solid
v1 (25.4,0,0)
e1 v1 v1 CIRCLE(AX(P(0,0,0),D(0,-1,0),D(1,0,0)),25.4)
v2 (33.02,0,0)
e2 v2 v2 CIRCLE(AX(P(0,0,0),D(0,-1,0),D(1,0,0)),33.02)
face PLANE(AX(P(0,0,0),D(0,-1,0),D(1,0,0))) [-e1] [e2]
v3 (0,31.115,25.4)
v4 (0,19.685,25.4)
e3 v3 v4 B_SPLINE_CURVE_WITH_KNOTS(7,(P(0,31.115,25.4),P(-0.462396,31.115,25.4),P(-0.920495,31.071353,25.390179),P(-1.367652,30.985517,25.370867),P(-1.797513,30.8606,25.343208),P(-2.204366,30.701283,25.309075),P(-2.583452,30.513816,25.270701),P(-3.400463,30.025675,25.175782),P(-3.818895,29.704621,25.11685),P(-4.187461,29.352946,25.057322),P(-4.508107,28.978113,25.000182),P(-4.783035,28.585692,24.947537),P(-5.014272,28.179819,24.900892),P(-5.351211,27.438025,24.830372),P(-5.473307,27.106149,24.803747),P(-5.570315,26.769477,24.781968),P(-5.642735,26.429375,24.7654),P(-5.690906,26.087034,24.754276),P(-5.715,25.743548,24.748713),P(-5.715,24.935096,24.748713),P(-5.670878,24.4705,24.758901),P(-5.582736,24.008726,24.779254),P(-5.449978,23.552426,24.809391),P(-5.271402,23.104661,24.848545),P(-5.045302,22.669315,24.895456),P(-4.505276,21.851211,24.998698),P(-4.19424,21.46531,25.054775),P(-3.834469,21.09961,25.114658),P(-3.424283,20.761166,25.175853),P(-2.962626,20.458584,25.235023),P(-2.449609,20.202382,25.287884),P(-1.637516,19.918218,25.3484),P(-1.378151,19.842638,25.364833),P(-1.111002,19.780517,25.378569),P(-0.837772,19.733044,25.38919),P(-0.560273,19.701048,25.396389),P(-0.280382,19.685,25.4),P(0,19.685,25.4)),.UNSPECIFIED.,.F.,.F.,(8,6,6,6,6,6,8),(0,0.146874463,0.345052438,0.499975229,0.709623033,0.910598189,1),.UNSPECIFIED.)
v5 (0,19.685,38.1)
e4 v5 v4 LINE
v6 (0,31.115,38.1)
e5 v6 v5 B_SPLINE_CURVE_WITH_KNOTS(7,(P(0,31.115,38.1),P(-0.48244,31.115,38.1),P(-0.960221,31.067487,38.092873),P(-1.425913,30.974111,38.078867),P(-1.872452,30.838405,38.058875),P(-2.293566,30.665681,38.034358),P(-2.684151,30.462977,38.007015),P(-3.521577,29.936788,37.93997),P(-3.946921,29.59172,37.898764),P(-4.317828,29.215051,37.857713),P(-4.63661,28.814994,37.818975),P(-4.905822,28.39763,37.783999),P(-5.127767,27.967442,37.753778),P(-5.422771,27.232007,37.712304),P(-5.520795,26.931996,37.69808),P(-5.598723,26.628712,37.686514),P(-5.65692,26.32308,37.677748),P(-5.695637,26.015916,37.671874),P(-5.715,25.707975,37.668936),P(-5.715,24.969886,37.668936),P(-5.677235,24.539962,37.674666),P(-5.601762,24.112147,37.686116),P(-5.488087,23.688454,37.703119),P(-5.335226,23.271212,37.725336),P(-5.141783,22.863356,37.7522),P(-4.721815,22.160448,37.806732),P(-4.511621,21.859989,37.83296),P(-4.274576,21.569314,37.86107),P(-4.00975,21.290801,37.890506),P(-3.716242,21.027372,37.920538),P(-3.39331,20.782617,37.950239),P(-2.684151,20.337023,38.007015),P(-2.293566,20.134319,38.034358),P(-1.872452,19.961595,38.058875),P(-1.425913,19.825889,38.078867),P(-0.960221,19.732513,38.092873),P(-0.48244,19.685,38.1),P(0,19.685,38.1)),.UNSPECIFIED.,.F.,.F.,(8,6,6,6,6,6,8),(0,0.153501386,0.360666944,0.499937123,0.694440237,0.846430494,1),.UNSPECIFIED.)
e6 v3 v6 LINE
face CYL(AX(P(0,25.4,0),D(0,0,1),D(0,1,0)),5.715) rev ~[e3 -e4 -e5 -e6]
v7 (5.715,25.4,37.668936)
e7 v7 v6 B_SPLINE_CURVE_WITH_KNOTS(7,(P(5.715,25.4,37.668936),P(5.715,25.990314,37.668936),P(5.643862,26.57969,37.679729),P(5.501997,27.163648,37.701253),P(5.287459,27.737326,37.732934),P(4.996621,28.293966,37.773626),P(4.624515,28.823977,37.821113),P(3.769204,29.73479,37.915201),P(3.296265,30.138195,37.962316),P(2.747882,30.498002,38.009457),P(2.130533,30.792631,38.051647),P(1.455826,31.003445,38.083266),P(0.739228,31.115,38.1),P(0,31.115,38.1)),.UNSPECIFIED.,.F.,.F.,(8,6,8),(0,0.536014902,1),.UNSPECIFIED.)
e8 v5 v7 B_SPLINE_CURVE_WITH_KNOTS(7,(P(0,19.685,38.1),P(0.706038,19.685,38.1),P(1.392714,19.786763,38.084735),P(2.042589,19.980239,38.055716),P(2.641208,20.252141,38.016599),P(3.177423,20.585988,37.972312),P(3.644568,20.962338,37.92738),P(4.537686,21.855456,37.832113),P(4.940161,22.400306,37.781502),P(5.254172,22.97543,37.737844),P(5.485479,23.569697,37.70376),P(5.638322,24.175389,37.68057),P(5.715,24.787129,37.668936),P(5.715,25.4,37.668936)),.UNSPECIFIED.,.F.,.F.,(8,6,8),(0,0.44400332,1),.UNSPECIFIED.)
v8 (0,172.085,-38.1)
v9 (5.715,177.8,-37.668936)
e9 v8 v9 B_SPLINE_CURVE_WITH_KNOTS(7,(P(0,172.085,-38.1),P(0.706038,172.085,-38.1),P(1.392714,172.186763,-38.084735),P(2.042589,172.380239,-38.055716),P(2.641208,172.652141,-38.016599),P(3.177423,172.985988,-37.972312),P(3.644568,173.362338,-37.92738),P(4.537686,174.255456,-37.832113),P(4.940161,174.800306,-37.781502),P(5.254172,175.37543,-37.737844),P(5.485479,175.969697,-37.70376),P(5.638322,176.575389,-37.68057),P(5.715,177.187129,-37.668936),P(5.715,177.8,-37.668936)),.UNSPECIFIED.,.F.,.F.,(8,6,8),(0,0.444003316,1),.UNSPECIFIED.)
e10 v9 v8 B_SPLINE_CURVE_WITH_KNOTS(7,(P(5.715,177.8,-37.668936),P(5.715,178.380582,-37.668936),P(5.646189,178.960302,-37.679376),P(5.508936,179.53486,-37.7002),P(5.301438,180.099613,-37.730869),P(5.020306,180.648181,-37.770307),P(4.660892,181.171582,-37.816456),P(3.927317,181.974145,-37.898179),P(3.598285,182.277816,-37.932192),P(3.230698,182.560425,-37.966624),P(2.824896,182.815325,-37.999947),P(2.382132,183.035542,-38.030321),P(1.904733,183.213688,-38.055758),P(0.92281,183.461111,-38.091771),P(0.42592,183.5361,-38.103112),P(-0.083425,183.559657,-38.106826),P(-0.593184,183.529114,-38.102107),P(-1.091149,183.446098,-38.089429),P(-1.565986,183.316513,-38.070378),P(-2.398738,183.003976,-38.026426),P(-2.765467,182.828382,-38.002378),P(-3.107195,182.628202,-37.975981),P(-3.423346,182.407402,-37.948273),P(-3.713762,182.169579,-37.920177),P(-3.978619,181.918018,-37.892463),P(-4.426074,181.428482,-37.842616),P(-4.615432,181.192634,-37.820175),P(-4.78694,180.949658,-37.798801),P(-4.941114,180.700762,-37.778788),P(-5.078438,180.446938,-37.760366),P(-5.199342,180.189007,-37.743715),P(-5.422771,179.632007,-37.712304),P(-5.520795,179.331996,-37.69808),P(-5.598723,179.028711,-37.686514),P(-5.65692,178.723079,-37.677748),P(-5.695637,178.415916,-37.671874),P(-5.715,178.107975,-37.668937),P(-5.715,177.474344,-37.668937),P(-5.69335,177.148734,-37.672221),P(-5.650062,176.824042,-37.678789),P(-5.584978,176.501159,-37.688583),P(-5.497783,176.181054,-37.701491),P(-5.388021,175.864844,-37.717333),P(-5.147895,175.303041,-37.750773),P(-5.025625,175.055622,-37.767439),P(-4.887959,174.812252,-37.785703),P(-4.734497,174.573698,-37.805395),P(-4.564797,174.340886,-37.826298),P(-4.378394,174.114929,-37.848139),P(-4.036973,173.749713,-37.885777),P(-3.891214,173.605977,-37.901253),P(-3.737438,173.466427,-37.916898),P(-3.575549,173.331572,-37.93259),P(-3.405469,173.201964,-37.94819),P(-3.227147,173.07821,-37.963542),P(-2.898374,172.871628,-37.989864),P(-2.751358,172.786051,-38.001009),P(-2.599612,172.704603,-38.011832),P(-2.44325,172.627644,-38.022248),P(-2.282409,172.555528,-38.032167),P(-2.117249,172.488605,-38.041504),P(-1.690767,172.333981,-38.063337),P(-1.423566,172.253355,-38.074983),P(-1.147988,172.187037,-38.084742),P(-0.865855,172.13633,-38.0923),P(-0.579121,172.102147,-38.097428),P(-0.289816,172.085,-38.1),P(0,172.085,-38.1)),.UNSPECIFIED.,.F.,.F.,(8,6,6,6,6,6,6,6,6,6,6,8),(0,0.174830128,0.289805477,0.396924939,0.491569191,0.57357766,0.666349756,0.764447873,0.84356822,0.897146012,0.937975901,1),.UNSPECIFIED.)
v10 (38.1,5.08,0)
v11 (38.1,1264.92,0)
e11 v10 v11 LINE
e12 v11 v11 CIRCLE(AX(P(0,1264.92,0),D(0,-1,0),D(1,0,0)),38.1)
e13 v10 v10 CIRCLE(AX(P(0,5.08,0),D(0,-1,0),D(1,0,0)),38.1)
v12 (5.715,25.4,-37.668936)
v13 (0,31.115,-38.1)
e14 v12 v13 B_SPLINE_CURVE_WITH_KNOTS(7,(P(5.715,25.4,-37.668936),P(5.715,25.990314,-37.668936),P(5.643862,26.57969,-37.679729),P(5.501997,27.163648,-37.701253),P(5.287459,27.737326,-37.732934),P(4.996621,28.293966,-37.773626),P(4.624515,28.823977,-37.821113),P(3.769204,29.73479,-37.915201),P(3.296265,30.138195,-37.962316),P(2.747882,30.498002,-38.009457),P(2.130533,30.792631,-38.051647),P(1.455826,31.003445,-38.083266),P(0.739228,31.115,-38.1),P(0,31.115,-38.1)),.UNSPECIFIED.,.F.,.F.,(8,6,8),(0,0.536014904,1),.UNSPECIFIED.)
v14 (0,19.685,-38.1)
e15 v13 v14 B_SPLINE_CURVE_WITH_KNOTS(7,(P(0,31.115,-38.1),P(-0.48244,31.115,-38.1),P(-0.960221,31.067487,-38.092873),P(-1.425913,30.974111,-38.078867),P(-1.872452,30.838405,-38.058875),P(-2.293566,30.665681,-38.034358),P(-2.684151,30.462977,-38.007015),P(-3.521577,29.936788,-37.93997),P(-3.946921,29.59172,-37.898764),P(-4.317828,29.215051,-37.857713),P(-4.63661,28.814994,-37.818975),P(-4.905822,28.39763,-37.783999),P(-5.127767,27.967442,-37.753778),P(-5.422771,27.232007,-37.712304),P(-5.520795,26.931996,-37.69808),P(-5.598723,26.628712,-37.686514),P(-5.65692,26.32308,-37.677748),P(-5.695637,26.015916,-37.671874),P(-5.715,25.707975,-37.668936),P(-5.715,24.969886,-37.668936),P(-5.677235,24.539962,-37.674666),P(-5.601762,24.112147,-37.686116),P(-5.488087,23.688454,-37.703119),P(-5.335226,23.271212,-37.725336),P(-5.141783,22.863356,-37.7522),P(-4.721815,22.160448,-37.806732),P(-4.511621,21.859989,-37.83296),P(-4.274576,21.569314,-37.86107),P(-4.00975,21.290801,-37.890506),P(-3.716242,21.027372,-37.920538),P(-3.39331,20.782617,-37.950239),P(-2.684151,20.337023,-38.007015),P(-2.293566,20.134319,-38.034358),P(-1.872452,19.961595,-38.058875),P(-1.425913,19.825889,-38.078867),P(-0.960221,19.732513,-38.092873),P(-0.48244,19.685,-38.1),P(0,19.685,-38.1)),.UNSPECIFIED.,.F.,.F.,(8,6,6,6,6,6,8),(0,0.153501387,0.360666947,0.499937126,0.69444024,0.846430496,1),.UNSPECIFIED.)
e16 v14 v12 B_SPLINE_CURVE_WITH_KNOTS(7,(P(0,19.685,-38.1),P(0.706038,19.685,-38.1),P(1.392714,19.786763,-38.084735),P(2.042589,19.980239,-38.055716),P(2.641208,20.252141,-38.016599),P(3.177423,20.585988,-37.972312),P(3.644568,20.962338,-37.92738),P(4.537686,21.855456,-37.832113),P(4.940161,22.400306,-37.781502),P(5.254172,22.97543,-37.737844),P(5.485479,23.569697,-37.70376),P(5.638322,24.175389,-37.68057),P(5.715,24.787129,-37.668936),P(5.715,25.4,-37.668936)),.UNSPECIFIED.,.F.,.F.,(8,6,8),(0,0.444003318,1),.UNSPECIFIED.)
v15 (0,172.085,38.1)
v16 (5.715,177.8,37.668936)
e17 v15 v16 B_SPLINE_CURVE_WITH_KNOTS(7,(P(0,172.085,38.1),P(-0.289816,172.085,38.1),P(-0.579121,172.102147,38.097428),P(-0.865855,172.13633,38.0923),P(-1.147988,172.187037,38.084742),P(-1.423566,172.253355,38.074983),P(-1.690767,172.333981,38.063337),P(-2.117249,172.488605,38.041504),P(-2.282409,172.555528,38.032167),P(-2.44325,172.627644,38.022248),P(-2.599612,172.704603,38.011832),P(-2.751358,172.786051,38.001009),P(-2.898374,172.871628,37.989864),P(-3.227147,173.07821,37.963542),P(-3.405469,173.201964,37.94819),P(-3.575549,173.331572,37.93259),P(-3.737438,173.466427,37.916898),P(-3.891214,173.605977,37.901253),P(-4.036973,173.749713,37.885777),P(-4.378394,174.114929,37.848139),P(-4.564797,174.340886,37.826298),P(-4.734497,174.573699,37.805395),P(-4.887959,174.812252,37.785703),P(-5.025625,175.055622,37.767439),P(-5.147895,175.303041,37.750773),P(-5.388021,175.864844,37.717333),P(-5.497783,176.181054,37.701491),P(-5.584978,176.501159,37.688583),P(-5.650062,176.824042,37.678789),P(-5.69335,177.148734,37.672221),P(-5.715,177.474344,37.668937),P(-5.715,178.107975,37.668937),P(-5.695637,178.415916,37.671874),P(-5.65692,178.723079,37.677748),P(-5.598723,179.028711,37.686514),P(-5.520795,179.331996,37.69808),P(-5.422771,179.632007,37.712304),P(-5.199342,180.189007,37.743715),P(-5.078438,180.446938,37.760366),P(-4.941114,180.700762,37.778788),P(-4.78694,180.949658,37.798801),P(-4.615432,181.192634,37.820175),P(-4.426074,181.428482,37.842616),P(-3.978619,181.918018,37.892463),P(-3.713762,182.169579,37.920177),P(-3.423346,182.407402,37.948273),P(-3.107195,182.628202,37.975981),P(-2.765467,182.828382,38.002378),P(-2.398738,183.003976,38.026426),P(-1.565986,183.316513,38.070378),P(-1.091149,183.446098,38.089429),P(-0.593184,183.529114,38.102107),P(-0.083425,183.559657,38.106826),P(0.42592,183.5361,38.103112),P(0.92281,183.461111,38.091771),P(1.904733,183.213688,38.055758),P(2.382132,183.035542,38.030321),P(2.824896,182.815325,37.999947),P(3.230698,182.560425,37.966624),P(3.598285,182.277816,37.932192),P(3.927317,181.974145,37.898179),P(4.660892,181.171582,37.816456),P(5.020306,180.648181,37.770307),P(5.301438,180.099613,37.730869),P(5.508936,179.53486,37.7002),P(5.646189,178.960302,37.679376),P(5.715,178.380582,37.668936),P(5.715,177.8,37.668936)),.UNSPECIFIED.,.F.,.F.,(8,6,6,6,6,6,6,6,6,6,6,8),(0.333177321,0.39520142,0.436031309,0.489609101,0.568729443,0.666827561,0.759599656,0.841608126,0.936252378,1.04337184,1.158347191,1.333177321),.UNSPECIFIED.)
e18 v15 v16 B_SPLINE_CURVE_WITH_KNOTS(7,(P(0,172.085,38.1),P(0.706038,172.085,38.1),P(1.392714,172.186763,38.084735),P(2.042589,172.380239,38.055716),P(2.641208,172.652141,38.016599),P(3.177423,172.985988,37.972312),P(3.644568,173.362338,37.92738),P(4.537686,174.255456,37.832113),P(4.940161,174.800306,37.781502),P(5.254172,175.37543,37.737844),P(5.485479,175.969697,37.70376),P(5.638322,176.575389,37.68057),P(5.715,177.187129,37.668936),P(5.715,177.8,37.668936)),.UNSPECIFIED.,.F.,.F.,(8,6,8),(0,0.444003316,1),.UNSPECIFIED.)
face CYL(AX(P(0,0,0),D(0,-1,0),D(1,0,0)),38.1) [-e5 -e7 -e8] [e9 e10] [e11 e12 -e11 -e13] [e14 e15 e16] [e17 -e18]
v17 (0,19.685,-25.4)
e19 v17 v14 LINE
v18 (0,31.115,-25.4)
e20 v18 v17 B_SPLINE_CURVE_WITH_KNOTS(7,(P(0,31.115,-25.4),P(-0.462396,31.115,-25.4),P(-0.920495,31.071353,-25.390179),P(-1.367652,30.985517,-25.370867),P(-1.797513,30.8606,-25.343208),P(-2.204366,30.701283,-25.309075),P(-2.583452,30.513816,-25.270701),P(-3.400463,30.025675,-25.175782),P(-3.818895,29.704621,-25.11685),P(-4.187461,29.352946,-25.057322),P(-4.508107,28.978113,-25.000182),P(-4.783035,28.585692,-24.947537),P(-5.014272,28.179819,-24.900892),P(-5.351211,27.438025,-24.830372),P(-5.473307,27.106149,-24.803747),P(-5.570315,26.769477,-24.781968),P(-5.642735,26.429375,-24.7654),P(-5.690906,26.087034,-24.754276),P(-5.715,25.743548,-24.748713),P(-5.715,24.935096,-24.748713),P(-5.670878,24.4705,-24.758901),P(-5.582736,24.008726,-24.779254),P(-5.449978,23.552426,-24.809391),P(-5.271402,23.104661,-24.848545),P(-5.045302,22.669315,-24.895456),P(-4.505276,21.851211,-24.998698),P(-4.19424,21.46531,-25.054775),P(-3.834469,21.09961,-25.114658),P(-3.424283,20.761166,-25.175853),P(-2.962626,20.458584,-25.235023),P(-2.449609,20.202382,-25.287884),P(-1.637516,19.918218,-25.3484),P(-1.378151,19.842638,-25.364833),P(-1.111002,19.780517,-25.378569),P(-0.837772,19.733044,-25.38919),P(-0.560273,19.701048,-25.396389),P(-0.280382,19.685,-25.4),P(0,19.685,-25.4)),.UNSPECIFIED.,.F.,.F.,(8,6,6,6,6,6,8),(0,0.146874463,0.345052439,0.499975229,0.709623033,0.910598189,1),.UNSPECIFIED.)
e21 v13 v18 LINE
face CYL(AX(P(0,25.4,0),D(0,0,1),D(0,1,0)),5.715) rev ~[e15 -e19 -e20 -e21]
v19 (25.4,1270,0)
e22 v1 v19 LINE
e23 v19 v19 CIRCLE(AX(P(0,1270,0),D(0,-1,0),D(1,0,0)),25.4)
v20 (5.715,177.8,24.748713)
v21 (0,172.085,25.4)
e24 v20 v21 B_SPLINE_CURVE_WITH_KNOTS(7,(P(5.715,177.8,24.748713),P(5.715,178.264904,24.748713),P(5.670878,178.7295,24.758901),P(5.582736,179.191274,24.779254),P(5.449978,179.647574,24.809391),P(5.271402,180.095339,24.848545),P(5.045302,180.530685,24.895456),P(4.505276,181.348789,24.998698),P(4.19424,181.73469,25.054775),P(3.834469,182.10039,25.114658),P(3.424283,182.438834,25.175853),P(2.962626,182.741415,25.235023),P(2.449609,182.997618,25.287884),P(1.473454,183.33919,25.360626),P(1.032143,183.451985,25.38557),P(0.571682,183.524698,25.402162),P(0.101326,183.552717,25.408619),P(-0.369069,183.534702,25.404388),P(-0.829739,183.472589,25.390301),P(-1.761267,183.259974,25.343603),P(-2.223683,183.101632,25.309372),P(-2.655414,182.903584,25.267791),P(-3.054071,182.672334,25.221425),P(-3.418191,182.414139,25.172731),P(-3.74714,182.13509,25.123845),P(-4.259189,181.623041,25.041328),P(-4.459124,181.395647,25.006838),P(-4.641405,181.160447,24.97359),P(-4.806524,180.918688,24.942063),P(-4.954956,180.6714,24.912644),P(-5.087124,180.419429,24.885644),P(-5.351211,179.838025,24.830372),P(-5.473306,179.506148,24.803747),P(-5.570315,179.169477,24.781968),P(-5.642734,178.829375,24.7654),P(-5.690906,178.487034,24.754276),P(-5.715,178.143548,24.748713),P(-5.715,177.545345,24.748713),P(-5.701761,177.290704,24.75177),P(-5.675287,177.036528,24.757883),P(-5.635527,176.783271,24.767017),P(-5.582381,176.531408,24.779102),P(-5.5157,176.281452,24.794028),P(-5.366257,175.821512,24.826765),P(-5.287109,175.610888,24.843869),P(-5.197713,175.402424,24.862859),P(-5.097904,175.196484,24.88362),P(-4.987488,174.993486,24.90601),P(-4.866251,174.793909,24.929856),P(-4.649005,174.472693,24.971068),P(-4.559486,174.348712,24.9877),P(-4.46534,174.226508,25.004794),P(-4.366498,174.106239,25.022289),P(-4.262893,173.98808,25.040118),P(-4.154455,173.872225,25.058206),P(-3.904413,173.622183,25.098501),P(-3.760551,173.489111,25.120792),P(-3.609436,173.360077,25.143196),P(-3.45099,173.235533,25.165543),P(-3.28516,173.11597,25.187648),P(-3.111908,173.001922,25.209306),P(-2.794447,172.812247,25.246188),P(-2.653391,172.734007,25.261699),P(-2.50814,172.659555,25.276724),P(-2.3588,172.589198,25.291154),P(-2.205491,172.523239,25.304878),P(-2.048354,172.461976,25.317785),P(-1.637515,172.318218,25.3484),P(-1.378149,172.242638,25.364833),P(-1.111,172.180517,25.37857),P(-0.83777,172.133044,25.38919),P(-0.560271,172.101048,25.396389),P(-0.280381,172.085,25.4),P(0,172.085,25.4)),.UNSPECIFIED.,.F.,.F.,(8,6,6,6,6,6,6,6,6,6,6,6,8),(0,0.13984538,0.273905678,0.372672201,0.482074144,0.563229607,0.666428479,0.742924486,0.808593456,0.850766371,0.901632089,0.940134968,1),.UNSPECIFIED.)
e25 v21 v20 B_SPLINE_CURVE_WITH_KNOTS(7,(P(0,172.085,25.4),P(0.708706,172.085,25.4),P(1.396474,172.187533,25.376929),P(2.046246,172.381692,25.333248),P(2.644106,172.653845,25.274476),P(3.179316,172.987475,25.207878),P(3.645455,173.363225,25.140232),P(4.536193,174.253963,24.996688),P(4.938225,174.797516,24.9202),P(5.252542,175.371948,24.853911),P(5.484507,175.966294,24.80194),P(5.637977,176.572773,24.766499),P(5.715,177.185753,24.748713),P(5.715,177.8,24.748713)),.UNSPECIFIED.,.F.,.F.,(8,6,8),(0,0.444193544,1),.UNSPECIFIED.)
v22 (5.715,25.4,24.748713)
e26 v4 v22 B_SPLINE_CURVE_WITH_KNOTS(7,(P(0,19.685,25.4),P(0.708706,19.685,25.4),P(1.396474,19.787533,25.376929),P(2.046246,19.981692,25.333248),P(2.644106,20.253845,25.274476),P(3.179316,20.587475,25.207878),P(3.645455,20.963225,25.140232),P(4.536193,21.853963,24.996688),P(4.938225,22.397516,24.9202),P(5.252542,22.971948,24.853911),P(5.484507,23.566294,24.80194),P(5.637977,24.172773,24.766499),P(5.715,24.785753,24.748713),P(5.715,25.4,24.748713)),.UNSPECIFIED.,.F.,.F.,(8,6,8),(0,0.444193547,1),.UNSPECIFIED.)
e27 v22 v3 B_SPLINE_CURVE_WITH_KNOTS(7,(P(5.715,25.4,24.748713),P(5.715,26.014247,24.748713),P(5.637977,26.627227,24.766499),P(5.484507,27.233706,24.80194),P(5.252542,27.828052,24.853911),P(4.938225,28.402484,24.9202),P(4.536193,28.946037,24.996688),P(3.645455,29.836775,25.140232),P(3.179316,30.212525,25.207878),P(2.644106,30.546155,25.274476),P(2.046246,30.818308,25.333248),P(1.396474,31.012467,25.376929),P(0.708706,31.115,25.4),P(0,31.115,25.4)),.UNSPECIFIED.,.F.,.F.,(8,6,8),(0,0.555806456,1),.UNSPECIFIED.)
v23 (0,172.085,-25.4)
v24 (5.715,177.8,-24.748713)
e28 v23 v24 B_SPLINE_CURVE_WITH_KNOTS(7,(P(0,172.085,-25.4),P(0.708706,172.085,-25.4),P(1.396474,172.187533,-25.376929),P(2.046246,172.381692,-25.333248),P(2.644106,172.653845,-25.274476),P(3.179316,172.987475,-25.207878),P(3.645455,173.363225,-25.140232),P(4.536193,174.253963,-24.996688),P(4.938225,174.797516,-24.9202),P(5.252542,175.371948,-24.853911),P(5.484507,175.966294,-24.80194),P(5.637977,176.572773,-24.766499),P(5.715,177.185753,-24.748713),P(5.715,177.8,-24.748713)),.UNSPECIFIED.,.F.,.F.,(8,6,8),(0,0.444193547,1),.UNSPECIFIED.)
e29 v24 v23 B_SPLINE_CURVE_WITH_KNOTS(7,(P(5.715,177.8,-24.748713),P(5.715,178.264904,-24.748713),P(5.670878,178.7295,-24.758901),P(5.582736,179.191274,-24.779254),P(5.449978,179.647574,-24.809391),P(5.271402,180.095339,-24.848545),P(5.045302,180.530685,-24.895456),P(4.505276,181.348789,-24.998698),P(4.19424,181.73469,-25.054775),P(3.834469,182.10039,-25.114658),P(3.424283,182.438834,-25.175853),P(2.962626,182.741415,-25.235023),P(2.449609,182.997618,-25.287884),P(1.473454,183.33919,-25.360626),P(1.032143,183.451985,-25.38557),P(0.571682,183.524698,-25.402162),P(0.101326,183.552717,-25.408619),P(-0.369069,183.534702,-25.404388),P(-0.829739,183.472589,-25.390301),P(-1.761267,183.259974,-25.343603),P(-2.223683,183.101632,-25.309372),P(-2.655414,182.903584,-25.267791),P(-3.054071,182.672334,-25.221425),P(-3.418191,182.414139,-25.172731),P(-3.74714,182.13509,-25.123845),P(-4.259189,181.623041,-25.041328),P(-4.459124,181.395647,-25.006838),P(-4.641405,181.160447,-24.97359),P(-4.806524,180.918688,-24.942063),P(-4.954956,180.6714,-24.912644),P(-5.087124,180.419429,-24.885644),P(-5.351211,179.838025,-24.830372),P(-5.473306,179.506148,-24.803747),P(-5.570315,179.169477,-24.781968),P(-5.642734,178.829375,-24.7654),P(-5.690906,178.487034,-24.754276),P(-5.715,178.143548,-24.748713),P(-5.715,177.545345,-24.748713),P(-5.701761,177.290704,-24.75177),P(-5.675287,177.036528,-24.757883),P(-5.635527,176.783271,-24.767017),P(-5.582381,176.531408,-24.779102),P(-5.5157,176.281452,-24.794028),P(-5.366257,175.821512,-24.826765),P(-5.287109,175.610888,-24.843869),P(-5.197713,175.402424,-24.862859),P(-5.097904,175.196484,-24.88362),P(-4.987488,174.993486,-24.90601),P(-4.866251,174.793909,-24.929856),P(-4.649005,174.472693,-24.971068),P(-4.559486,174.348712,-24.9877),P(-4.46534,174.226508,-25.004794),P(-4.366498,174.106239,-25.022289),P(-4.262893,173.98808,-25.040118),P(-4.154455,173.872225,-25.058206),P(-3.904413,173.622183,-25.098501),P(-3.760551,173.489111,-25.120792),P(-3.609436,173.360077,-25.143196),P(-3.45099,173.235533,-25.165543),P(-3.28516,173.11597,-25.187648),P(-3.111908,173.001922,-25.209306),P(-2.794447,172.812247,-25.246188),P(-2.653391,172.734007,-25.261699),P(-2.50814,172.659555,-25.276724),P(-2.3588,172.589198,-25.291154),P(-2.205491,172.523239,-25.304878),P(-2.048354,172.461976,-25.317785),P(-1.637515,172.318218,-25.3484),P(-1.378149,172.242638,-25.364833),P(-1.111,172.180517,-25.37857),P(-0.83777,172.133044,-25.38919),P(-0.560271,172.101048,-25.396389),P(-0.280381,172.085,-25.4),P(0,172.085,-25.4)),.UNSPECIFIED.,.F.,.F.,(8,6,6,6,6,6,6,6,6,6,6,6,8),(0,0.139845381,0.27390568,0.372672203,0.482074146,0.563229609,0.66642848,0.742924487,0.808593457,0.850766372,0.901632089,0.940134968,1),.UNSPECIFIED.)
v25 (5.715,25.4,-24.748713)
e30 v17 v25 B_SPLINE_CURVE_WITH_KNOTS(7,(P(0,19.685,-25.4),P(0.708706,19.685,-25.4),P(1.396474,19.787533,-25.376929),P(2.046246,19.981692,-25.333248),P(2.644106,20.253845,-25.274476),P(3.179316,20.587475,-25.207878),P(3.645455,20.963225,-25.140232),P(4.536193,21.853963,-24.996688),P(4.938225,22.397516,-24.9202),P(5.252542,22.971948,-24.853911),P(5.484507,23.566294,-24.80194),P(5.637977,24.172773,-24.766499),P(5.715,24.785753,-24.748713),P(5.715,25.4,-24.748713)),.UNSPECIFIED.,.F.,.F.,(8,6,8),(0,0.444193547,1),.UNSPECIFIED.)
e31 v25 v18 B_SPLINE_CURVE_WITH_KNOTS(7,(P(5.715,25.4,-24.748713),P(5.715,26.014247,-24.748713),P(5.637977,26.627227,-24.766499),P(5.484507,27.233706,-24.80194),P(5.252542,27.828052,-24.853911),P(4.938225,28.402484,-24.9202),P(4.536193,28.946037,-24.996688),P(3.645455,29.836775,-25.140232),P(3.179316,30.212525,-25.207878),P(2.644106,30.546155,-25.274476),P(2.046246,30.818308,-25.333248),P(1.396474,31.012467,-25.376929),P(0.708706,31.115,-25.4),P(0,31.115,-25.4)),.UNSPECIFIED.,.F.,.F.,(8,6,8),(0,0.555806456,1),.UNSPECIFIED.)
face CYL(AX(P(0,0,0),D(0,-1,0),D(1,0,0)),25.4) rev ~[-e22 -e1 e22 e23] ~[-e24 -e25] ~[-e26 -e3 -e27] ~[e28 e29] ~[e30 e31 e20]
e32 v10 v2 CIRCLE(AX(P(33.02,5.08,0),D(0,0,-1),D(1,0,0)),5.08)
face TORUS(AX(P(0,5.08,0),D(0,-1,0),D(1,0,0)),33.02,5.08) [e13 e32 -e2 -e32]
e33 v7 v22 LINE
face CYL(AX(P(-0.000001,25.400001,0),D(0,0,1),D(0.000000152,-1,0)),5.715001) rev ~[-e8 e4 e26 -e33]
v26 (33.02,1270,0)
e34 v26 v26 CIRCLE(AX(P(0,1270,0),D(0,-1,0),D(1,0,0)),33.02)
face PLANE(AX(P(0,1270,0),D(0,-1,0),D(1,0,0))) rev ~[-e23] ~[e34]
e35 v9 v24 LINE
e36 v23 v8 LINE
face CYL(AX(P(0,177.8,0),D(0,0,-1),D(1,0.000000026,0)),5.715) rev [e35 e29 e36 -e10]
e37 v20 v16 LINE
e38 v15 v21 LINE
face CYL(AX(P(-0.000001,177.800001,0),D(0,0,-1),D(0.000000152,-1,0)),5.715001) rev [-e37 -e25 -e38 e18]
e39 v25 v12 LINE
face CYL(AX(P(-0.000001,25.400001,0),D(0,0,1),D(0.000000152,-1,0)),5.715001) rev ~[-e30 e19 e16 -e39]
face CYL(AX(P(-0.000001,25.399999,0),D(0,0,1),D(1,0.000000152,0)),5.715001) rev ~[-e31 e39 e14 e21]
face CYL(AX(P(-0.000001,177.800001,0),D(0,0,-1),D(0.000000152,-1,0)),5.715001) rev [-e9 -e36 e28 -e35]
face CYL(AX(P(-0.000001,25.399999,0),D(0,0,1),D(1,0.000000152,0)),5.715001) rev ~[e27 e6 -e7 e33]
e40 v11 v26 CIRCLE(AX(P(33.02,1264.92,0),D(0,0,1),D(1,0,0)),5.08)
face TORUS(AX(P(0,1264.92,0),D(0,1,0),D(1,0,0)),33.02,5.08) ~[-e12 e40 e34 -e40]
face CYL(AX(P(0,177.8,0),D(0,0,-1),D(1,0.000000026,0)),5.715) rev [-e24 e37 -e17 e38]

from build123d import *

# Parameters (mm, degrees)
F0_R     = 38.1
F1_DEPTH = 1270
F2_R     = 25.4
F3_DEPTH = 1270.001
F4_R     = 5.08
F6_DEPTH = 38.1


with BuildPart() as f1:
    # F0 (on Front) → F1 (new body)
    with BuildSketch(Plane.XZ):
        Circle(F0_R)
    extrude(amount=-F1_DEPTH)

    # F2 (on face) → F3 (cut, through all)
    with BuildSketch(Plane.XZ):
        Circle(F2_R)
    extrude(amount=-F3_DEPTH, mode=Mode.SUBTRACT)

    # F4
    f4_edges = [f1.edges().sort_by_distance(p)[0] for p in [
        (-38.1, 0, 0),
        (-38.1, 1270, 0),
    ]]
    fillet(f4_edges, radius=F4_R)

    # F5 (on Top) → F6 (cut, symmetric)
    with BuildSketch(Plane.XY):
        with BuildLine():
            ThreePointArc((0, 172.085), (4.041115, 173.758885), (5.715, 177.8))
            ThreePointArc((5.715, 177.8), (-4.041115, 181.841115), (0, 172.085))
        make_face()
        with BuildLine():
            ThreePointArc((5.715, 25.4), (4.041115, 29.441115), (0, 31.115))
            ThreePointArc((0, 31.115), (-5.715, 25.4), (0, 19.685))
            ThreePointArc((0, 19.685), (4.041115, 21.358885), (5.715, 25.4))
        make_face()
    extrude(amount=F6_DEPTH, both=True, mode=Mode.SUBTRACT)


solid = f1.part
